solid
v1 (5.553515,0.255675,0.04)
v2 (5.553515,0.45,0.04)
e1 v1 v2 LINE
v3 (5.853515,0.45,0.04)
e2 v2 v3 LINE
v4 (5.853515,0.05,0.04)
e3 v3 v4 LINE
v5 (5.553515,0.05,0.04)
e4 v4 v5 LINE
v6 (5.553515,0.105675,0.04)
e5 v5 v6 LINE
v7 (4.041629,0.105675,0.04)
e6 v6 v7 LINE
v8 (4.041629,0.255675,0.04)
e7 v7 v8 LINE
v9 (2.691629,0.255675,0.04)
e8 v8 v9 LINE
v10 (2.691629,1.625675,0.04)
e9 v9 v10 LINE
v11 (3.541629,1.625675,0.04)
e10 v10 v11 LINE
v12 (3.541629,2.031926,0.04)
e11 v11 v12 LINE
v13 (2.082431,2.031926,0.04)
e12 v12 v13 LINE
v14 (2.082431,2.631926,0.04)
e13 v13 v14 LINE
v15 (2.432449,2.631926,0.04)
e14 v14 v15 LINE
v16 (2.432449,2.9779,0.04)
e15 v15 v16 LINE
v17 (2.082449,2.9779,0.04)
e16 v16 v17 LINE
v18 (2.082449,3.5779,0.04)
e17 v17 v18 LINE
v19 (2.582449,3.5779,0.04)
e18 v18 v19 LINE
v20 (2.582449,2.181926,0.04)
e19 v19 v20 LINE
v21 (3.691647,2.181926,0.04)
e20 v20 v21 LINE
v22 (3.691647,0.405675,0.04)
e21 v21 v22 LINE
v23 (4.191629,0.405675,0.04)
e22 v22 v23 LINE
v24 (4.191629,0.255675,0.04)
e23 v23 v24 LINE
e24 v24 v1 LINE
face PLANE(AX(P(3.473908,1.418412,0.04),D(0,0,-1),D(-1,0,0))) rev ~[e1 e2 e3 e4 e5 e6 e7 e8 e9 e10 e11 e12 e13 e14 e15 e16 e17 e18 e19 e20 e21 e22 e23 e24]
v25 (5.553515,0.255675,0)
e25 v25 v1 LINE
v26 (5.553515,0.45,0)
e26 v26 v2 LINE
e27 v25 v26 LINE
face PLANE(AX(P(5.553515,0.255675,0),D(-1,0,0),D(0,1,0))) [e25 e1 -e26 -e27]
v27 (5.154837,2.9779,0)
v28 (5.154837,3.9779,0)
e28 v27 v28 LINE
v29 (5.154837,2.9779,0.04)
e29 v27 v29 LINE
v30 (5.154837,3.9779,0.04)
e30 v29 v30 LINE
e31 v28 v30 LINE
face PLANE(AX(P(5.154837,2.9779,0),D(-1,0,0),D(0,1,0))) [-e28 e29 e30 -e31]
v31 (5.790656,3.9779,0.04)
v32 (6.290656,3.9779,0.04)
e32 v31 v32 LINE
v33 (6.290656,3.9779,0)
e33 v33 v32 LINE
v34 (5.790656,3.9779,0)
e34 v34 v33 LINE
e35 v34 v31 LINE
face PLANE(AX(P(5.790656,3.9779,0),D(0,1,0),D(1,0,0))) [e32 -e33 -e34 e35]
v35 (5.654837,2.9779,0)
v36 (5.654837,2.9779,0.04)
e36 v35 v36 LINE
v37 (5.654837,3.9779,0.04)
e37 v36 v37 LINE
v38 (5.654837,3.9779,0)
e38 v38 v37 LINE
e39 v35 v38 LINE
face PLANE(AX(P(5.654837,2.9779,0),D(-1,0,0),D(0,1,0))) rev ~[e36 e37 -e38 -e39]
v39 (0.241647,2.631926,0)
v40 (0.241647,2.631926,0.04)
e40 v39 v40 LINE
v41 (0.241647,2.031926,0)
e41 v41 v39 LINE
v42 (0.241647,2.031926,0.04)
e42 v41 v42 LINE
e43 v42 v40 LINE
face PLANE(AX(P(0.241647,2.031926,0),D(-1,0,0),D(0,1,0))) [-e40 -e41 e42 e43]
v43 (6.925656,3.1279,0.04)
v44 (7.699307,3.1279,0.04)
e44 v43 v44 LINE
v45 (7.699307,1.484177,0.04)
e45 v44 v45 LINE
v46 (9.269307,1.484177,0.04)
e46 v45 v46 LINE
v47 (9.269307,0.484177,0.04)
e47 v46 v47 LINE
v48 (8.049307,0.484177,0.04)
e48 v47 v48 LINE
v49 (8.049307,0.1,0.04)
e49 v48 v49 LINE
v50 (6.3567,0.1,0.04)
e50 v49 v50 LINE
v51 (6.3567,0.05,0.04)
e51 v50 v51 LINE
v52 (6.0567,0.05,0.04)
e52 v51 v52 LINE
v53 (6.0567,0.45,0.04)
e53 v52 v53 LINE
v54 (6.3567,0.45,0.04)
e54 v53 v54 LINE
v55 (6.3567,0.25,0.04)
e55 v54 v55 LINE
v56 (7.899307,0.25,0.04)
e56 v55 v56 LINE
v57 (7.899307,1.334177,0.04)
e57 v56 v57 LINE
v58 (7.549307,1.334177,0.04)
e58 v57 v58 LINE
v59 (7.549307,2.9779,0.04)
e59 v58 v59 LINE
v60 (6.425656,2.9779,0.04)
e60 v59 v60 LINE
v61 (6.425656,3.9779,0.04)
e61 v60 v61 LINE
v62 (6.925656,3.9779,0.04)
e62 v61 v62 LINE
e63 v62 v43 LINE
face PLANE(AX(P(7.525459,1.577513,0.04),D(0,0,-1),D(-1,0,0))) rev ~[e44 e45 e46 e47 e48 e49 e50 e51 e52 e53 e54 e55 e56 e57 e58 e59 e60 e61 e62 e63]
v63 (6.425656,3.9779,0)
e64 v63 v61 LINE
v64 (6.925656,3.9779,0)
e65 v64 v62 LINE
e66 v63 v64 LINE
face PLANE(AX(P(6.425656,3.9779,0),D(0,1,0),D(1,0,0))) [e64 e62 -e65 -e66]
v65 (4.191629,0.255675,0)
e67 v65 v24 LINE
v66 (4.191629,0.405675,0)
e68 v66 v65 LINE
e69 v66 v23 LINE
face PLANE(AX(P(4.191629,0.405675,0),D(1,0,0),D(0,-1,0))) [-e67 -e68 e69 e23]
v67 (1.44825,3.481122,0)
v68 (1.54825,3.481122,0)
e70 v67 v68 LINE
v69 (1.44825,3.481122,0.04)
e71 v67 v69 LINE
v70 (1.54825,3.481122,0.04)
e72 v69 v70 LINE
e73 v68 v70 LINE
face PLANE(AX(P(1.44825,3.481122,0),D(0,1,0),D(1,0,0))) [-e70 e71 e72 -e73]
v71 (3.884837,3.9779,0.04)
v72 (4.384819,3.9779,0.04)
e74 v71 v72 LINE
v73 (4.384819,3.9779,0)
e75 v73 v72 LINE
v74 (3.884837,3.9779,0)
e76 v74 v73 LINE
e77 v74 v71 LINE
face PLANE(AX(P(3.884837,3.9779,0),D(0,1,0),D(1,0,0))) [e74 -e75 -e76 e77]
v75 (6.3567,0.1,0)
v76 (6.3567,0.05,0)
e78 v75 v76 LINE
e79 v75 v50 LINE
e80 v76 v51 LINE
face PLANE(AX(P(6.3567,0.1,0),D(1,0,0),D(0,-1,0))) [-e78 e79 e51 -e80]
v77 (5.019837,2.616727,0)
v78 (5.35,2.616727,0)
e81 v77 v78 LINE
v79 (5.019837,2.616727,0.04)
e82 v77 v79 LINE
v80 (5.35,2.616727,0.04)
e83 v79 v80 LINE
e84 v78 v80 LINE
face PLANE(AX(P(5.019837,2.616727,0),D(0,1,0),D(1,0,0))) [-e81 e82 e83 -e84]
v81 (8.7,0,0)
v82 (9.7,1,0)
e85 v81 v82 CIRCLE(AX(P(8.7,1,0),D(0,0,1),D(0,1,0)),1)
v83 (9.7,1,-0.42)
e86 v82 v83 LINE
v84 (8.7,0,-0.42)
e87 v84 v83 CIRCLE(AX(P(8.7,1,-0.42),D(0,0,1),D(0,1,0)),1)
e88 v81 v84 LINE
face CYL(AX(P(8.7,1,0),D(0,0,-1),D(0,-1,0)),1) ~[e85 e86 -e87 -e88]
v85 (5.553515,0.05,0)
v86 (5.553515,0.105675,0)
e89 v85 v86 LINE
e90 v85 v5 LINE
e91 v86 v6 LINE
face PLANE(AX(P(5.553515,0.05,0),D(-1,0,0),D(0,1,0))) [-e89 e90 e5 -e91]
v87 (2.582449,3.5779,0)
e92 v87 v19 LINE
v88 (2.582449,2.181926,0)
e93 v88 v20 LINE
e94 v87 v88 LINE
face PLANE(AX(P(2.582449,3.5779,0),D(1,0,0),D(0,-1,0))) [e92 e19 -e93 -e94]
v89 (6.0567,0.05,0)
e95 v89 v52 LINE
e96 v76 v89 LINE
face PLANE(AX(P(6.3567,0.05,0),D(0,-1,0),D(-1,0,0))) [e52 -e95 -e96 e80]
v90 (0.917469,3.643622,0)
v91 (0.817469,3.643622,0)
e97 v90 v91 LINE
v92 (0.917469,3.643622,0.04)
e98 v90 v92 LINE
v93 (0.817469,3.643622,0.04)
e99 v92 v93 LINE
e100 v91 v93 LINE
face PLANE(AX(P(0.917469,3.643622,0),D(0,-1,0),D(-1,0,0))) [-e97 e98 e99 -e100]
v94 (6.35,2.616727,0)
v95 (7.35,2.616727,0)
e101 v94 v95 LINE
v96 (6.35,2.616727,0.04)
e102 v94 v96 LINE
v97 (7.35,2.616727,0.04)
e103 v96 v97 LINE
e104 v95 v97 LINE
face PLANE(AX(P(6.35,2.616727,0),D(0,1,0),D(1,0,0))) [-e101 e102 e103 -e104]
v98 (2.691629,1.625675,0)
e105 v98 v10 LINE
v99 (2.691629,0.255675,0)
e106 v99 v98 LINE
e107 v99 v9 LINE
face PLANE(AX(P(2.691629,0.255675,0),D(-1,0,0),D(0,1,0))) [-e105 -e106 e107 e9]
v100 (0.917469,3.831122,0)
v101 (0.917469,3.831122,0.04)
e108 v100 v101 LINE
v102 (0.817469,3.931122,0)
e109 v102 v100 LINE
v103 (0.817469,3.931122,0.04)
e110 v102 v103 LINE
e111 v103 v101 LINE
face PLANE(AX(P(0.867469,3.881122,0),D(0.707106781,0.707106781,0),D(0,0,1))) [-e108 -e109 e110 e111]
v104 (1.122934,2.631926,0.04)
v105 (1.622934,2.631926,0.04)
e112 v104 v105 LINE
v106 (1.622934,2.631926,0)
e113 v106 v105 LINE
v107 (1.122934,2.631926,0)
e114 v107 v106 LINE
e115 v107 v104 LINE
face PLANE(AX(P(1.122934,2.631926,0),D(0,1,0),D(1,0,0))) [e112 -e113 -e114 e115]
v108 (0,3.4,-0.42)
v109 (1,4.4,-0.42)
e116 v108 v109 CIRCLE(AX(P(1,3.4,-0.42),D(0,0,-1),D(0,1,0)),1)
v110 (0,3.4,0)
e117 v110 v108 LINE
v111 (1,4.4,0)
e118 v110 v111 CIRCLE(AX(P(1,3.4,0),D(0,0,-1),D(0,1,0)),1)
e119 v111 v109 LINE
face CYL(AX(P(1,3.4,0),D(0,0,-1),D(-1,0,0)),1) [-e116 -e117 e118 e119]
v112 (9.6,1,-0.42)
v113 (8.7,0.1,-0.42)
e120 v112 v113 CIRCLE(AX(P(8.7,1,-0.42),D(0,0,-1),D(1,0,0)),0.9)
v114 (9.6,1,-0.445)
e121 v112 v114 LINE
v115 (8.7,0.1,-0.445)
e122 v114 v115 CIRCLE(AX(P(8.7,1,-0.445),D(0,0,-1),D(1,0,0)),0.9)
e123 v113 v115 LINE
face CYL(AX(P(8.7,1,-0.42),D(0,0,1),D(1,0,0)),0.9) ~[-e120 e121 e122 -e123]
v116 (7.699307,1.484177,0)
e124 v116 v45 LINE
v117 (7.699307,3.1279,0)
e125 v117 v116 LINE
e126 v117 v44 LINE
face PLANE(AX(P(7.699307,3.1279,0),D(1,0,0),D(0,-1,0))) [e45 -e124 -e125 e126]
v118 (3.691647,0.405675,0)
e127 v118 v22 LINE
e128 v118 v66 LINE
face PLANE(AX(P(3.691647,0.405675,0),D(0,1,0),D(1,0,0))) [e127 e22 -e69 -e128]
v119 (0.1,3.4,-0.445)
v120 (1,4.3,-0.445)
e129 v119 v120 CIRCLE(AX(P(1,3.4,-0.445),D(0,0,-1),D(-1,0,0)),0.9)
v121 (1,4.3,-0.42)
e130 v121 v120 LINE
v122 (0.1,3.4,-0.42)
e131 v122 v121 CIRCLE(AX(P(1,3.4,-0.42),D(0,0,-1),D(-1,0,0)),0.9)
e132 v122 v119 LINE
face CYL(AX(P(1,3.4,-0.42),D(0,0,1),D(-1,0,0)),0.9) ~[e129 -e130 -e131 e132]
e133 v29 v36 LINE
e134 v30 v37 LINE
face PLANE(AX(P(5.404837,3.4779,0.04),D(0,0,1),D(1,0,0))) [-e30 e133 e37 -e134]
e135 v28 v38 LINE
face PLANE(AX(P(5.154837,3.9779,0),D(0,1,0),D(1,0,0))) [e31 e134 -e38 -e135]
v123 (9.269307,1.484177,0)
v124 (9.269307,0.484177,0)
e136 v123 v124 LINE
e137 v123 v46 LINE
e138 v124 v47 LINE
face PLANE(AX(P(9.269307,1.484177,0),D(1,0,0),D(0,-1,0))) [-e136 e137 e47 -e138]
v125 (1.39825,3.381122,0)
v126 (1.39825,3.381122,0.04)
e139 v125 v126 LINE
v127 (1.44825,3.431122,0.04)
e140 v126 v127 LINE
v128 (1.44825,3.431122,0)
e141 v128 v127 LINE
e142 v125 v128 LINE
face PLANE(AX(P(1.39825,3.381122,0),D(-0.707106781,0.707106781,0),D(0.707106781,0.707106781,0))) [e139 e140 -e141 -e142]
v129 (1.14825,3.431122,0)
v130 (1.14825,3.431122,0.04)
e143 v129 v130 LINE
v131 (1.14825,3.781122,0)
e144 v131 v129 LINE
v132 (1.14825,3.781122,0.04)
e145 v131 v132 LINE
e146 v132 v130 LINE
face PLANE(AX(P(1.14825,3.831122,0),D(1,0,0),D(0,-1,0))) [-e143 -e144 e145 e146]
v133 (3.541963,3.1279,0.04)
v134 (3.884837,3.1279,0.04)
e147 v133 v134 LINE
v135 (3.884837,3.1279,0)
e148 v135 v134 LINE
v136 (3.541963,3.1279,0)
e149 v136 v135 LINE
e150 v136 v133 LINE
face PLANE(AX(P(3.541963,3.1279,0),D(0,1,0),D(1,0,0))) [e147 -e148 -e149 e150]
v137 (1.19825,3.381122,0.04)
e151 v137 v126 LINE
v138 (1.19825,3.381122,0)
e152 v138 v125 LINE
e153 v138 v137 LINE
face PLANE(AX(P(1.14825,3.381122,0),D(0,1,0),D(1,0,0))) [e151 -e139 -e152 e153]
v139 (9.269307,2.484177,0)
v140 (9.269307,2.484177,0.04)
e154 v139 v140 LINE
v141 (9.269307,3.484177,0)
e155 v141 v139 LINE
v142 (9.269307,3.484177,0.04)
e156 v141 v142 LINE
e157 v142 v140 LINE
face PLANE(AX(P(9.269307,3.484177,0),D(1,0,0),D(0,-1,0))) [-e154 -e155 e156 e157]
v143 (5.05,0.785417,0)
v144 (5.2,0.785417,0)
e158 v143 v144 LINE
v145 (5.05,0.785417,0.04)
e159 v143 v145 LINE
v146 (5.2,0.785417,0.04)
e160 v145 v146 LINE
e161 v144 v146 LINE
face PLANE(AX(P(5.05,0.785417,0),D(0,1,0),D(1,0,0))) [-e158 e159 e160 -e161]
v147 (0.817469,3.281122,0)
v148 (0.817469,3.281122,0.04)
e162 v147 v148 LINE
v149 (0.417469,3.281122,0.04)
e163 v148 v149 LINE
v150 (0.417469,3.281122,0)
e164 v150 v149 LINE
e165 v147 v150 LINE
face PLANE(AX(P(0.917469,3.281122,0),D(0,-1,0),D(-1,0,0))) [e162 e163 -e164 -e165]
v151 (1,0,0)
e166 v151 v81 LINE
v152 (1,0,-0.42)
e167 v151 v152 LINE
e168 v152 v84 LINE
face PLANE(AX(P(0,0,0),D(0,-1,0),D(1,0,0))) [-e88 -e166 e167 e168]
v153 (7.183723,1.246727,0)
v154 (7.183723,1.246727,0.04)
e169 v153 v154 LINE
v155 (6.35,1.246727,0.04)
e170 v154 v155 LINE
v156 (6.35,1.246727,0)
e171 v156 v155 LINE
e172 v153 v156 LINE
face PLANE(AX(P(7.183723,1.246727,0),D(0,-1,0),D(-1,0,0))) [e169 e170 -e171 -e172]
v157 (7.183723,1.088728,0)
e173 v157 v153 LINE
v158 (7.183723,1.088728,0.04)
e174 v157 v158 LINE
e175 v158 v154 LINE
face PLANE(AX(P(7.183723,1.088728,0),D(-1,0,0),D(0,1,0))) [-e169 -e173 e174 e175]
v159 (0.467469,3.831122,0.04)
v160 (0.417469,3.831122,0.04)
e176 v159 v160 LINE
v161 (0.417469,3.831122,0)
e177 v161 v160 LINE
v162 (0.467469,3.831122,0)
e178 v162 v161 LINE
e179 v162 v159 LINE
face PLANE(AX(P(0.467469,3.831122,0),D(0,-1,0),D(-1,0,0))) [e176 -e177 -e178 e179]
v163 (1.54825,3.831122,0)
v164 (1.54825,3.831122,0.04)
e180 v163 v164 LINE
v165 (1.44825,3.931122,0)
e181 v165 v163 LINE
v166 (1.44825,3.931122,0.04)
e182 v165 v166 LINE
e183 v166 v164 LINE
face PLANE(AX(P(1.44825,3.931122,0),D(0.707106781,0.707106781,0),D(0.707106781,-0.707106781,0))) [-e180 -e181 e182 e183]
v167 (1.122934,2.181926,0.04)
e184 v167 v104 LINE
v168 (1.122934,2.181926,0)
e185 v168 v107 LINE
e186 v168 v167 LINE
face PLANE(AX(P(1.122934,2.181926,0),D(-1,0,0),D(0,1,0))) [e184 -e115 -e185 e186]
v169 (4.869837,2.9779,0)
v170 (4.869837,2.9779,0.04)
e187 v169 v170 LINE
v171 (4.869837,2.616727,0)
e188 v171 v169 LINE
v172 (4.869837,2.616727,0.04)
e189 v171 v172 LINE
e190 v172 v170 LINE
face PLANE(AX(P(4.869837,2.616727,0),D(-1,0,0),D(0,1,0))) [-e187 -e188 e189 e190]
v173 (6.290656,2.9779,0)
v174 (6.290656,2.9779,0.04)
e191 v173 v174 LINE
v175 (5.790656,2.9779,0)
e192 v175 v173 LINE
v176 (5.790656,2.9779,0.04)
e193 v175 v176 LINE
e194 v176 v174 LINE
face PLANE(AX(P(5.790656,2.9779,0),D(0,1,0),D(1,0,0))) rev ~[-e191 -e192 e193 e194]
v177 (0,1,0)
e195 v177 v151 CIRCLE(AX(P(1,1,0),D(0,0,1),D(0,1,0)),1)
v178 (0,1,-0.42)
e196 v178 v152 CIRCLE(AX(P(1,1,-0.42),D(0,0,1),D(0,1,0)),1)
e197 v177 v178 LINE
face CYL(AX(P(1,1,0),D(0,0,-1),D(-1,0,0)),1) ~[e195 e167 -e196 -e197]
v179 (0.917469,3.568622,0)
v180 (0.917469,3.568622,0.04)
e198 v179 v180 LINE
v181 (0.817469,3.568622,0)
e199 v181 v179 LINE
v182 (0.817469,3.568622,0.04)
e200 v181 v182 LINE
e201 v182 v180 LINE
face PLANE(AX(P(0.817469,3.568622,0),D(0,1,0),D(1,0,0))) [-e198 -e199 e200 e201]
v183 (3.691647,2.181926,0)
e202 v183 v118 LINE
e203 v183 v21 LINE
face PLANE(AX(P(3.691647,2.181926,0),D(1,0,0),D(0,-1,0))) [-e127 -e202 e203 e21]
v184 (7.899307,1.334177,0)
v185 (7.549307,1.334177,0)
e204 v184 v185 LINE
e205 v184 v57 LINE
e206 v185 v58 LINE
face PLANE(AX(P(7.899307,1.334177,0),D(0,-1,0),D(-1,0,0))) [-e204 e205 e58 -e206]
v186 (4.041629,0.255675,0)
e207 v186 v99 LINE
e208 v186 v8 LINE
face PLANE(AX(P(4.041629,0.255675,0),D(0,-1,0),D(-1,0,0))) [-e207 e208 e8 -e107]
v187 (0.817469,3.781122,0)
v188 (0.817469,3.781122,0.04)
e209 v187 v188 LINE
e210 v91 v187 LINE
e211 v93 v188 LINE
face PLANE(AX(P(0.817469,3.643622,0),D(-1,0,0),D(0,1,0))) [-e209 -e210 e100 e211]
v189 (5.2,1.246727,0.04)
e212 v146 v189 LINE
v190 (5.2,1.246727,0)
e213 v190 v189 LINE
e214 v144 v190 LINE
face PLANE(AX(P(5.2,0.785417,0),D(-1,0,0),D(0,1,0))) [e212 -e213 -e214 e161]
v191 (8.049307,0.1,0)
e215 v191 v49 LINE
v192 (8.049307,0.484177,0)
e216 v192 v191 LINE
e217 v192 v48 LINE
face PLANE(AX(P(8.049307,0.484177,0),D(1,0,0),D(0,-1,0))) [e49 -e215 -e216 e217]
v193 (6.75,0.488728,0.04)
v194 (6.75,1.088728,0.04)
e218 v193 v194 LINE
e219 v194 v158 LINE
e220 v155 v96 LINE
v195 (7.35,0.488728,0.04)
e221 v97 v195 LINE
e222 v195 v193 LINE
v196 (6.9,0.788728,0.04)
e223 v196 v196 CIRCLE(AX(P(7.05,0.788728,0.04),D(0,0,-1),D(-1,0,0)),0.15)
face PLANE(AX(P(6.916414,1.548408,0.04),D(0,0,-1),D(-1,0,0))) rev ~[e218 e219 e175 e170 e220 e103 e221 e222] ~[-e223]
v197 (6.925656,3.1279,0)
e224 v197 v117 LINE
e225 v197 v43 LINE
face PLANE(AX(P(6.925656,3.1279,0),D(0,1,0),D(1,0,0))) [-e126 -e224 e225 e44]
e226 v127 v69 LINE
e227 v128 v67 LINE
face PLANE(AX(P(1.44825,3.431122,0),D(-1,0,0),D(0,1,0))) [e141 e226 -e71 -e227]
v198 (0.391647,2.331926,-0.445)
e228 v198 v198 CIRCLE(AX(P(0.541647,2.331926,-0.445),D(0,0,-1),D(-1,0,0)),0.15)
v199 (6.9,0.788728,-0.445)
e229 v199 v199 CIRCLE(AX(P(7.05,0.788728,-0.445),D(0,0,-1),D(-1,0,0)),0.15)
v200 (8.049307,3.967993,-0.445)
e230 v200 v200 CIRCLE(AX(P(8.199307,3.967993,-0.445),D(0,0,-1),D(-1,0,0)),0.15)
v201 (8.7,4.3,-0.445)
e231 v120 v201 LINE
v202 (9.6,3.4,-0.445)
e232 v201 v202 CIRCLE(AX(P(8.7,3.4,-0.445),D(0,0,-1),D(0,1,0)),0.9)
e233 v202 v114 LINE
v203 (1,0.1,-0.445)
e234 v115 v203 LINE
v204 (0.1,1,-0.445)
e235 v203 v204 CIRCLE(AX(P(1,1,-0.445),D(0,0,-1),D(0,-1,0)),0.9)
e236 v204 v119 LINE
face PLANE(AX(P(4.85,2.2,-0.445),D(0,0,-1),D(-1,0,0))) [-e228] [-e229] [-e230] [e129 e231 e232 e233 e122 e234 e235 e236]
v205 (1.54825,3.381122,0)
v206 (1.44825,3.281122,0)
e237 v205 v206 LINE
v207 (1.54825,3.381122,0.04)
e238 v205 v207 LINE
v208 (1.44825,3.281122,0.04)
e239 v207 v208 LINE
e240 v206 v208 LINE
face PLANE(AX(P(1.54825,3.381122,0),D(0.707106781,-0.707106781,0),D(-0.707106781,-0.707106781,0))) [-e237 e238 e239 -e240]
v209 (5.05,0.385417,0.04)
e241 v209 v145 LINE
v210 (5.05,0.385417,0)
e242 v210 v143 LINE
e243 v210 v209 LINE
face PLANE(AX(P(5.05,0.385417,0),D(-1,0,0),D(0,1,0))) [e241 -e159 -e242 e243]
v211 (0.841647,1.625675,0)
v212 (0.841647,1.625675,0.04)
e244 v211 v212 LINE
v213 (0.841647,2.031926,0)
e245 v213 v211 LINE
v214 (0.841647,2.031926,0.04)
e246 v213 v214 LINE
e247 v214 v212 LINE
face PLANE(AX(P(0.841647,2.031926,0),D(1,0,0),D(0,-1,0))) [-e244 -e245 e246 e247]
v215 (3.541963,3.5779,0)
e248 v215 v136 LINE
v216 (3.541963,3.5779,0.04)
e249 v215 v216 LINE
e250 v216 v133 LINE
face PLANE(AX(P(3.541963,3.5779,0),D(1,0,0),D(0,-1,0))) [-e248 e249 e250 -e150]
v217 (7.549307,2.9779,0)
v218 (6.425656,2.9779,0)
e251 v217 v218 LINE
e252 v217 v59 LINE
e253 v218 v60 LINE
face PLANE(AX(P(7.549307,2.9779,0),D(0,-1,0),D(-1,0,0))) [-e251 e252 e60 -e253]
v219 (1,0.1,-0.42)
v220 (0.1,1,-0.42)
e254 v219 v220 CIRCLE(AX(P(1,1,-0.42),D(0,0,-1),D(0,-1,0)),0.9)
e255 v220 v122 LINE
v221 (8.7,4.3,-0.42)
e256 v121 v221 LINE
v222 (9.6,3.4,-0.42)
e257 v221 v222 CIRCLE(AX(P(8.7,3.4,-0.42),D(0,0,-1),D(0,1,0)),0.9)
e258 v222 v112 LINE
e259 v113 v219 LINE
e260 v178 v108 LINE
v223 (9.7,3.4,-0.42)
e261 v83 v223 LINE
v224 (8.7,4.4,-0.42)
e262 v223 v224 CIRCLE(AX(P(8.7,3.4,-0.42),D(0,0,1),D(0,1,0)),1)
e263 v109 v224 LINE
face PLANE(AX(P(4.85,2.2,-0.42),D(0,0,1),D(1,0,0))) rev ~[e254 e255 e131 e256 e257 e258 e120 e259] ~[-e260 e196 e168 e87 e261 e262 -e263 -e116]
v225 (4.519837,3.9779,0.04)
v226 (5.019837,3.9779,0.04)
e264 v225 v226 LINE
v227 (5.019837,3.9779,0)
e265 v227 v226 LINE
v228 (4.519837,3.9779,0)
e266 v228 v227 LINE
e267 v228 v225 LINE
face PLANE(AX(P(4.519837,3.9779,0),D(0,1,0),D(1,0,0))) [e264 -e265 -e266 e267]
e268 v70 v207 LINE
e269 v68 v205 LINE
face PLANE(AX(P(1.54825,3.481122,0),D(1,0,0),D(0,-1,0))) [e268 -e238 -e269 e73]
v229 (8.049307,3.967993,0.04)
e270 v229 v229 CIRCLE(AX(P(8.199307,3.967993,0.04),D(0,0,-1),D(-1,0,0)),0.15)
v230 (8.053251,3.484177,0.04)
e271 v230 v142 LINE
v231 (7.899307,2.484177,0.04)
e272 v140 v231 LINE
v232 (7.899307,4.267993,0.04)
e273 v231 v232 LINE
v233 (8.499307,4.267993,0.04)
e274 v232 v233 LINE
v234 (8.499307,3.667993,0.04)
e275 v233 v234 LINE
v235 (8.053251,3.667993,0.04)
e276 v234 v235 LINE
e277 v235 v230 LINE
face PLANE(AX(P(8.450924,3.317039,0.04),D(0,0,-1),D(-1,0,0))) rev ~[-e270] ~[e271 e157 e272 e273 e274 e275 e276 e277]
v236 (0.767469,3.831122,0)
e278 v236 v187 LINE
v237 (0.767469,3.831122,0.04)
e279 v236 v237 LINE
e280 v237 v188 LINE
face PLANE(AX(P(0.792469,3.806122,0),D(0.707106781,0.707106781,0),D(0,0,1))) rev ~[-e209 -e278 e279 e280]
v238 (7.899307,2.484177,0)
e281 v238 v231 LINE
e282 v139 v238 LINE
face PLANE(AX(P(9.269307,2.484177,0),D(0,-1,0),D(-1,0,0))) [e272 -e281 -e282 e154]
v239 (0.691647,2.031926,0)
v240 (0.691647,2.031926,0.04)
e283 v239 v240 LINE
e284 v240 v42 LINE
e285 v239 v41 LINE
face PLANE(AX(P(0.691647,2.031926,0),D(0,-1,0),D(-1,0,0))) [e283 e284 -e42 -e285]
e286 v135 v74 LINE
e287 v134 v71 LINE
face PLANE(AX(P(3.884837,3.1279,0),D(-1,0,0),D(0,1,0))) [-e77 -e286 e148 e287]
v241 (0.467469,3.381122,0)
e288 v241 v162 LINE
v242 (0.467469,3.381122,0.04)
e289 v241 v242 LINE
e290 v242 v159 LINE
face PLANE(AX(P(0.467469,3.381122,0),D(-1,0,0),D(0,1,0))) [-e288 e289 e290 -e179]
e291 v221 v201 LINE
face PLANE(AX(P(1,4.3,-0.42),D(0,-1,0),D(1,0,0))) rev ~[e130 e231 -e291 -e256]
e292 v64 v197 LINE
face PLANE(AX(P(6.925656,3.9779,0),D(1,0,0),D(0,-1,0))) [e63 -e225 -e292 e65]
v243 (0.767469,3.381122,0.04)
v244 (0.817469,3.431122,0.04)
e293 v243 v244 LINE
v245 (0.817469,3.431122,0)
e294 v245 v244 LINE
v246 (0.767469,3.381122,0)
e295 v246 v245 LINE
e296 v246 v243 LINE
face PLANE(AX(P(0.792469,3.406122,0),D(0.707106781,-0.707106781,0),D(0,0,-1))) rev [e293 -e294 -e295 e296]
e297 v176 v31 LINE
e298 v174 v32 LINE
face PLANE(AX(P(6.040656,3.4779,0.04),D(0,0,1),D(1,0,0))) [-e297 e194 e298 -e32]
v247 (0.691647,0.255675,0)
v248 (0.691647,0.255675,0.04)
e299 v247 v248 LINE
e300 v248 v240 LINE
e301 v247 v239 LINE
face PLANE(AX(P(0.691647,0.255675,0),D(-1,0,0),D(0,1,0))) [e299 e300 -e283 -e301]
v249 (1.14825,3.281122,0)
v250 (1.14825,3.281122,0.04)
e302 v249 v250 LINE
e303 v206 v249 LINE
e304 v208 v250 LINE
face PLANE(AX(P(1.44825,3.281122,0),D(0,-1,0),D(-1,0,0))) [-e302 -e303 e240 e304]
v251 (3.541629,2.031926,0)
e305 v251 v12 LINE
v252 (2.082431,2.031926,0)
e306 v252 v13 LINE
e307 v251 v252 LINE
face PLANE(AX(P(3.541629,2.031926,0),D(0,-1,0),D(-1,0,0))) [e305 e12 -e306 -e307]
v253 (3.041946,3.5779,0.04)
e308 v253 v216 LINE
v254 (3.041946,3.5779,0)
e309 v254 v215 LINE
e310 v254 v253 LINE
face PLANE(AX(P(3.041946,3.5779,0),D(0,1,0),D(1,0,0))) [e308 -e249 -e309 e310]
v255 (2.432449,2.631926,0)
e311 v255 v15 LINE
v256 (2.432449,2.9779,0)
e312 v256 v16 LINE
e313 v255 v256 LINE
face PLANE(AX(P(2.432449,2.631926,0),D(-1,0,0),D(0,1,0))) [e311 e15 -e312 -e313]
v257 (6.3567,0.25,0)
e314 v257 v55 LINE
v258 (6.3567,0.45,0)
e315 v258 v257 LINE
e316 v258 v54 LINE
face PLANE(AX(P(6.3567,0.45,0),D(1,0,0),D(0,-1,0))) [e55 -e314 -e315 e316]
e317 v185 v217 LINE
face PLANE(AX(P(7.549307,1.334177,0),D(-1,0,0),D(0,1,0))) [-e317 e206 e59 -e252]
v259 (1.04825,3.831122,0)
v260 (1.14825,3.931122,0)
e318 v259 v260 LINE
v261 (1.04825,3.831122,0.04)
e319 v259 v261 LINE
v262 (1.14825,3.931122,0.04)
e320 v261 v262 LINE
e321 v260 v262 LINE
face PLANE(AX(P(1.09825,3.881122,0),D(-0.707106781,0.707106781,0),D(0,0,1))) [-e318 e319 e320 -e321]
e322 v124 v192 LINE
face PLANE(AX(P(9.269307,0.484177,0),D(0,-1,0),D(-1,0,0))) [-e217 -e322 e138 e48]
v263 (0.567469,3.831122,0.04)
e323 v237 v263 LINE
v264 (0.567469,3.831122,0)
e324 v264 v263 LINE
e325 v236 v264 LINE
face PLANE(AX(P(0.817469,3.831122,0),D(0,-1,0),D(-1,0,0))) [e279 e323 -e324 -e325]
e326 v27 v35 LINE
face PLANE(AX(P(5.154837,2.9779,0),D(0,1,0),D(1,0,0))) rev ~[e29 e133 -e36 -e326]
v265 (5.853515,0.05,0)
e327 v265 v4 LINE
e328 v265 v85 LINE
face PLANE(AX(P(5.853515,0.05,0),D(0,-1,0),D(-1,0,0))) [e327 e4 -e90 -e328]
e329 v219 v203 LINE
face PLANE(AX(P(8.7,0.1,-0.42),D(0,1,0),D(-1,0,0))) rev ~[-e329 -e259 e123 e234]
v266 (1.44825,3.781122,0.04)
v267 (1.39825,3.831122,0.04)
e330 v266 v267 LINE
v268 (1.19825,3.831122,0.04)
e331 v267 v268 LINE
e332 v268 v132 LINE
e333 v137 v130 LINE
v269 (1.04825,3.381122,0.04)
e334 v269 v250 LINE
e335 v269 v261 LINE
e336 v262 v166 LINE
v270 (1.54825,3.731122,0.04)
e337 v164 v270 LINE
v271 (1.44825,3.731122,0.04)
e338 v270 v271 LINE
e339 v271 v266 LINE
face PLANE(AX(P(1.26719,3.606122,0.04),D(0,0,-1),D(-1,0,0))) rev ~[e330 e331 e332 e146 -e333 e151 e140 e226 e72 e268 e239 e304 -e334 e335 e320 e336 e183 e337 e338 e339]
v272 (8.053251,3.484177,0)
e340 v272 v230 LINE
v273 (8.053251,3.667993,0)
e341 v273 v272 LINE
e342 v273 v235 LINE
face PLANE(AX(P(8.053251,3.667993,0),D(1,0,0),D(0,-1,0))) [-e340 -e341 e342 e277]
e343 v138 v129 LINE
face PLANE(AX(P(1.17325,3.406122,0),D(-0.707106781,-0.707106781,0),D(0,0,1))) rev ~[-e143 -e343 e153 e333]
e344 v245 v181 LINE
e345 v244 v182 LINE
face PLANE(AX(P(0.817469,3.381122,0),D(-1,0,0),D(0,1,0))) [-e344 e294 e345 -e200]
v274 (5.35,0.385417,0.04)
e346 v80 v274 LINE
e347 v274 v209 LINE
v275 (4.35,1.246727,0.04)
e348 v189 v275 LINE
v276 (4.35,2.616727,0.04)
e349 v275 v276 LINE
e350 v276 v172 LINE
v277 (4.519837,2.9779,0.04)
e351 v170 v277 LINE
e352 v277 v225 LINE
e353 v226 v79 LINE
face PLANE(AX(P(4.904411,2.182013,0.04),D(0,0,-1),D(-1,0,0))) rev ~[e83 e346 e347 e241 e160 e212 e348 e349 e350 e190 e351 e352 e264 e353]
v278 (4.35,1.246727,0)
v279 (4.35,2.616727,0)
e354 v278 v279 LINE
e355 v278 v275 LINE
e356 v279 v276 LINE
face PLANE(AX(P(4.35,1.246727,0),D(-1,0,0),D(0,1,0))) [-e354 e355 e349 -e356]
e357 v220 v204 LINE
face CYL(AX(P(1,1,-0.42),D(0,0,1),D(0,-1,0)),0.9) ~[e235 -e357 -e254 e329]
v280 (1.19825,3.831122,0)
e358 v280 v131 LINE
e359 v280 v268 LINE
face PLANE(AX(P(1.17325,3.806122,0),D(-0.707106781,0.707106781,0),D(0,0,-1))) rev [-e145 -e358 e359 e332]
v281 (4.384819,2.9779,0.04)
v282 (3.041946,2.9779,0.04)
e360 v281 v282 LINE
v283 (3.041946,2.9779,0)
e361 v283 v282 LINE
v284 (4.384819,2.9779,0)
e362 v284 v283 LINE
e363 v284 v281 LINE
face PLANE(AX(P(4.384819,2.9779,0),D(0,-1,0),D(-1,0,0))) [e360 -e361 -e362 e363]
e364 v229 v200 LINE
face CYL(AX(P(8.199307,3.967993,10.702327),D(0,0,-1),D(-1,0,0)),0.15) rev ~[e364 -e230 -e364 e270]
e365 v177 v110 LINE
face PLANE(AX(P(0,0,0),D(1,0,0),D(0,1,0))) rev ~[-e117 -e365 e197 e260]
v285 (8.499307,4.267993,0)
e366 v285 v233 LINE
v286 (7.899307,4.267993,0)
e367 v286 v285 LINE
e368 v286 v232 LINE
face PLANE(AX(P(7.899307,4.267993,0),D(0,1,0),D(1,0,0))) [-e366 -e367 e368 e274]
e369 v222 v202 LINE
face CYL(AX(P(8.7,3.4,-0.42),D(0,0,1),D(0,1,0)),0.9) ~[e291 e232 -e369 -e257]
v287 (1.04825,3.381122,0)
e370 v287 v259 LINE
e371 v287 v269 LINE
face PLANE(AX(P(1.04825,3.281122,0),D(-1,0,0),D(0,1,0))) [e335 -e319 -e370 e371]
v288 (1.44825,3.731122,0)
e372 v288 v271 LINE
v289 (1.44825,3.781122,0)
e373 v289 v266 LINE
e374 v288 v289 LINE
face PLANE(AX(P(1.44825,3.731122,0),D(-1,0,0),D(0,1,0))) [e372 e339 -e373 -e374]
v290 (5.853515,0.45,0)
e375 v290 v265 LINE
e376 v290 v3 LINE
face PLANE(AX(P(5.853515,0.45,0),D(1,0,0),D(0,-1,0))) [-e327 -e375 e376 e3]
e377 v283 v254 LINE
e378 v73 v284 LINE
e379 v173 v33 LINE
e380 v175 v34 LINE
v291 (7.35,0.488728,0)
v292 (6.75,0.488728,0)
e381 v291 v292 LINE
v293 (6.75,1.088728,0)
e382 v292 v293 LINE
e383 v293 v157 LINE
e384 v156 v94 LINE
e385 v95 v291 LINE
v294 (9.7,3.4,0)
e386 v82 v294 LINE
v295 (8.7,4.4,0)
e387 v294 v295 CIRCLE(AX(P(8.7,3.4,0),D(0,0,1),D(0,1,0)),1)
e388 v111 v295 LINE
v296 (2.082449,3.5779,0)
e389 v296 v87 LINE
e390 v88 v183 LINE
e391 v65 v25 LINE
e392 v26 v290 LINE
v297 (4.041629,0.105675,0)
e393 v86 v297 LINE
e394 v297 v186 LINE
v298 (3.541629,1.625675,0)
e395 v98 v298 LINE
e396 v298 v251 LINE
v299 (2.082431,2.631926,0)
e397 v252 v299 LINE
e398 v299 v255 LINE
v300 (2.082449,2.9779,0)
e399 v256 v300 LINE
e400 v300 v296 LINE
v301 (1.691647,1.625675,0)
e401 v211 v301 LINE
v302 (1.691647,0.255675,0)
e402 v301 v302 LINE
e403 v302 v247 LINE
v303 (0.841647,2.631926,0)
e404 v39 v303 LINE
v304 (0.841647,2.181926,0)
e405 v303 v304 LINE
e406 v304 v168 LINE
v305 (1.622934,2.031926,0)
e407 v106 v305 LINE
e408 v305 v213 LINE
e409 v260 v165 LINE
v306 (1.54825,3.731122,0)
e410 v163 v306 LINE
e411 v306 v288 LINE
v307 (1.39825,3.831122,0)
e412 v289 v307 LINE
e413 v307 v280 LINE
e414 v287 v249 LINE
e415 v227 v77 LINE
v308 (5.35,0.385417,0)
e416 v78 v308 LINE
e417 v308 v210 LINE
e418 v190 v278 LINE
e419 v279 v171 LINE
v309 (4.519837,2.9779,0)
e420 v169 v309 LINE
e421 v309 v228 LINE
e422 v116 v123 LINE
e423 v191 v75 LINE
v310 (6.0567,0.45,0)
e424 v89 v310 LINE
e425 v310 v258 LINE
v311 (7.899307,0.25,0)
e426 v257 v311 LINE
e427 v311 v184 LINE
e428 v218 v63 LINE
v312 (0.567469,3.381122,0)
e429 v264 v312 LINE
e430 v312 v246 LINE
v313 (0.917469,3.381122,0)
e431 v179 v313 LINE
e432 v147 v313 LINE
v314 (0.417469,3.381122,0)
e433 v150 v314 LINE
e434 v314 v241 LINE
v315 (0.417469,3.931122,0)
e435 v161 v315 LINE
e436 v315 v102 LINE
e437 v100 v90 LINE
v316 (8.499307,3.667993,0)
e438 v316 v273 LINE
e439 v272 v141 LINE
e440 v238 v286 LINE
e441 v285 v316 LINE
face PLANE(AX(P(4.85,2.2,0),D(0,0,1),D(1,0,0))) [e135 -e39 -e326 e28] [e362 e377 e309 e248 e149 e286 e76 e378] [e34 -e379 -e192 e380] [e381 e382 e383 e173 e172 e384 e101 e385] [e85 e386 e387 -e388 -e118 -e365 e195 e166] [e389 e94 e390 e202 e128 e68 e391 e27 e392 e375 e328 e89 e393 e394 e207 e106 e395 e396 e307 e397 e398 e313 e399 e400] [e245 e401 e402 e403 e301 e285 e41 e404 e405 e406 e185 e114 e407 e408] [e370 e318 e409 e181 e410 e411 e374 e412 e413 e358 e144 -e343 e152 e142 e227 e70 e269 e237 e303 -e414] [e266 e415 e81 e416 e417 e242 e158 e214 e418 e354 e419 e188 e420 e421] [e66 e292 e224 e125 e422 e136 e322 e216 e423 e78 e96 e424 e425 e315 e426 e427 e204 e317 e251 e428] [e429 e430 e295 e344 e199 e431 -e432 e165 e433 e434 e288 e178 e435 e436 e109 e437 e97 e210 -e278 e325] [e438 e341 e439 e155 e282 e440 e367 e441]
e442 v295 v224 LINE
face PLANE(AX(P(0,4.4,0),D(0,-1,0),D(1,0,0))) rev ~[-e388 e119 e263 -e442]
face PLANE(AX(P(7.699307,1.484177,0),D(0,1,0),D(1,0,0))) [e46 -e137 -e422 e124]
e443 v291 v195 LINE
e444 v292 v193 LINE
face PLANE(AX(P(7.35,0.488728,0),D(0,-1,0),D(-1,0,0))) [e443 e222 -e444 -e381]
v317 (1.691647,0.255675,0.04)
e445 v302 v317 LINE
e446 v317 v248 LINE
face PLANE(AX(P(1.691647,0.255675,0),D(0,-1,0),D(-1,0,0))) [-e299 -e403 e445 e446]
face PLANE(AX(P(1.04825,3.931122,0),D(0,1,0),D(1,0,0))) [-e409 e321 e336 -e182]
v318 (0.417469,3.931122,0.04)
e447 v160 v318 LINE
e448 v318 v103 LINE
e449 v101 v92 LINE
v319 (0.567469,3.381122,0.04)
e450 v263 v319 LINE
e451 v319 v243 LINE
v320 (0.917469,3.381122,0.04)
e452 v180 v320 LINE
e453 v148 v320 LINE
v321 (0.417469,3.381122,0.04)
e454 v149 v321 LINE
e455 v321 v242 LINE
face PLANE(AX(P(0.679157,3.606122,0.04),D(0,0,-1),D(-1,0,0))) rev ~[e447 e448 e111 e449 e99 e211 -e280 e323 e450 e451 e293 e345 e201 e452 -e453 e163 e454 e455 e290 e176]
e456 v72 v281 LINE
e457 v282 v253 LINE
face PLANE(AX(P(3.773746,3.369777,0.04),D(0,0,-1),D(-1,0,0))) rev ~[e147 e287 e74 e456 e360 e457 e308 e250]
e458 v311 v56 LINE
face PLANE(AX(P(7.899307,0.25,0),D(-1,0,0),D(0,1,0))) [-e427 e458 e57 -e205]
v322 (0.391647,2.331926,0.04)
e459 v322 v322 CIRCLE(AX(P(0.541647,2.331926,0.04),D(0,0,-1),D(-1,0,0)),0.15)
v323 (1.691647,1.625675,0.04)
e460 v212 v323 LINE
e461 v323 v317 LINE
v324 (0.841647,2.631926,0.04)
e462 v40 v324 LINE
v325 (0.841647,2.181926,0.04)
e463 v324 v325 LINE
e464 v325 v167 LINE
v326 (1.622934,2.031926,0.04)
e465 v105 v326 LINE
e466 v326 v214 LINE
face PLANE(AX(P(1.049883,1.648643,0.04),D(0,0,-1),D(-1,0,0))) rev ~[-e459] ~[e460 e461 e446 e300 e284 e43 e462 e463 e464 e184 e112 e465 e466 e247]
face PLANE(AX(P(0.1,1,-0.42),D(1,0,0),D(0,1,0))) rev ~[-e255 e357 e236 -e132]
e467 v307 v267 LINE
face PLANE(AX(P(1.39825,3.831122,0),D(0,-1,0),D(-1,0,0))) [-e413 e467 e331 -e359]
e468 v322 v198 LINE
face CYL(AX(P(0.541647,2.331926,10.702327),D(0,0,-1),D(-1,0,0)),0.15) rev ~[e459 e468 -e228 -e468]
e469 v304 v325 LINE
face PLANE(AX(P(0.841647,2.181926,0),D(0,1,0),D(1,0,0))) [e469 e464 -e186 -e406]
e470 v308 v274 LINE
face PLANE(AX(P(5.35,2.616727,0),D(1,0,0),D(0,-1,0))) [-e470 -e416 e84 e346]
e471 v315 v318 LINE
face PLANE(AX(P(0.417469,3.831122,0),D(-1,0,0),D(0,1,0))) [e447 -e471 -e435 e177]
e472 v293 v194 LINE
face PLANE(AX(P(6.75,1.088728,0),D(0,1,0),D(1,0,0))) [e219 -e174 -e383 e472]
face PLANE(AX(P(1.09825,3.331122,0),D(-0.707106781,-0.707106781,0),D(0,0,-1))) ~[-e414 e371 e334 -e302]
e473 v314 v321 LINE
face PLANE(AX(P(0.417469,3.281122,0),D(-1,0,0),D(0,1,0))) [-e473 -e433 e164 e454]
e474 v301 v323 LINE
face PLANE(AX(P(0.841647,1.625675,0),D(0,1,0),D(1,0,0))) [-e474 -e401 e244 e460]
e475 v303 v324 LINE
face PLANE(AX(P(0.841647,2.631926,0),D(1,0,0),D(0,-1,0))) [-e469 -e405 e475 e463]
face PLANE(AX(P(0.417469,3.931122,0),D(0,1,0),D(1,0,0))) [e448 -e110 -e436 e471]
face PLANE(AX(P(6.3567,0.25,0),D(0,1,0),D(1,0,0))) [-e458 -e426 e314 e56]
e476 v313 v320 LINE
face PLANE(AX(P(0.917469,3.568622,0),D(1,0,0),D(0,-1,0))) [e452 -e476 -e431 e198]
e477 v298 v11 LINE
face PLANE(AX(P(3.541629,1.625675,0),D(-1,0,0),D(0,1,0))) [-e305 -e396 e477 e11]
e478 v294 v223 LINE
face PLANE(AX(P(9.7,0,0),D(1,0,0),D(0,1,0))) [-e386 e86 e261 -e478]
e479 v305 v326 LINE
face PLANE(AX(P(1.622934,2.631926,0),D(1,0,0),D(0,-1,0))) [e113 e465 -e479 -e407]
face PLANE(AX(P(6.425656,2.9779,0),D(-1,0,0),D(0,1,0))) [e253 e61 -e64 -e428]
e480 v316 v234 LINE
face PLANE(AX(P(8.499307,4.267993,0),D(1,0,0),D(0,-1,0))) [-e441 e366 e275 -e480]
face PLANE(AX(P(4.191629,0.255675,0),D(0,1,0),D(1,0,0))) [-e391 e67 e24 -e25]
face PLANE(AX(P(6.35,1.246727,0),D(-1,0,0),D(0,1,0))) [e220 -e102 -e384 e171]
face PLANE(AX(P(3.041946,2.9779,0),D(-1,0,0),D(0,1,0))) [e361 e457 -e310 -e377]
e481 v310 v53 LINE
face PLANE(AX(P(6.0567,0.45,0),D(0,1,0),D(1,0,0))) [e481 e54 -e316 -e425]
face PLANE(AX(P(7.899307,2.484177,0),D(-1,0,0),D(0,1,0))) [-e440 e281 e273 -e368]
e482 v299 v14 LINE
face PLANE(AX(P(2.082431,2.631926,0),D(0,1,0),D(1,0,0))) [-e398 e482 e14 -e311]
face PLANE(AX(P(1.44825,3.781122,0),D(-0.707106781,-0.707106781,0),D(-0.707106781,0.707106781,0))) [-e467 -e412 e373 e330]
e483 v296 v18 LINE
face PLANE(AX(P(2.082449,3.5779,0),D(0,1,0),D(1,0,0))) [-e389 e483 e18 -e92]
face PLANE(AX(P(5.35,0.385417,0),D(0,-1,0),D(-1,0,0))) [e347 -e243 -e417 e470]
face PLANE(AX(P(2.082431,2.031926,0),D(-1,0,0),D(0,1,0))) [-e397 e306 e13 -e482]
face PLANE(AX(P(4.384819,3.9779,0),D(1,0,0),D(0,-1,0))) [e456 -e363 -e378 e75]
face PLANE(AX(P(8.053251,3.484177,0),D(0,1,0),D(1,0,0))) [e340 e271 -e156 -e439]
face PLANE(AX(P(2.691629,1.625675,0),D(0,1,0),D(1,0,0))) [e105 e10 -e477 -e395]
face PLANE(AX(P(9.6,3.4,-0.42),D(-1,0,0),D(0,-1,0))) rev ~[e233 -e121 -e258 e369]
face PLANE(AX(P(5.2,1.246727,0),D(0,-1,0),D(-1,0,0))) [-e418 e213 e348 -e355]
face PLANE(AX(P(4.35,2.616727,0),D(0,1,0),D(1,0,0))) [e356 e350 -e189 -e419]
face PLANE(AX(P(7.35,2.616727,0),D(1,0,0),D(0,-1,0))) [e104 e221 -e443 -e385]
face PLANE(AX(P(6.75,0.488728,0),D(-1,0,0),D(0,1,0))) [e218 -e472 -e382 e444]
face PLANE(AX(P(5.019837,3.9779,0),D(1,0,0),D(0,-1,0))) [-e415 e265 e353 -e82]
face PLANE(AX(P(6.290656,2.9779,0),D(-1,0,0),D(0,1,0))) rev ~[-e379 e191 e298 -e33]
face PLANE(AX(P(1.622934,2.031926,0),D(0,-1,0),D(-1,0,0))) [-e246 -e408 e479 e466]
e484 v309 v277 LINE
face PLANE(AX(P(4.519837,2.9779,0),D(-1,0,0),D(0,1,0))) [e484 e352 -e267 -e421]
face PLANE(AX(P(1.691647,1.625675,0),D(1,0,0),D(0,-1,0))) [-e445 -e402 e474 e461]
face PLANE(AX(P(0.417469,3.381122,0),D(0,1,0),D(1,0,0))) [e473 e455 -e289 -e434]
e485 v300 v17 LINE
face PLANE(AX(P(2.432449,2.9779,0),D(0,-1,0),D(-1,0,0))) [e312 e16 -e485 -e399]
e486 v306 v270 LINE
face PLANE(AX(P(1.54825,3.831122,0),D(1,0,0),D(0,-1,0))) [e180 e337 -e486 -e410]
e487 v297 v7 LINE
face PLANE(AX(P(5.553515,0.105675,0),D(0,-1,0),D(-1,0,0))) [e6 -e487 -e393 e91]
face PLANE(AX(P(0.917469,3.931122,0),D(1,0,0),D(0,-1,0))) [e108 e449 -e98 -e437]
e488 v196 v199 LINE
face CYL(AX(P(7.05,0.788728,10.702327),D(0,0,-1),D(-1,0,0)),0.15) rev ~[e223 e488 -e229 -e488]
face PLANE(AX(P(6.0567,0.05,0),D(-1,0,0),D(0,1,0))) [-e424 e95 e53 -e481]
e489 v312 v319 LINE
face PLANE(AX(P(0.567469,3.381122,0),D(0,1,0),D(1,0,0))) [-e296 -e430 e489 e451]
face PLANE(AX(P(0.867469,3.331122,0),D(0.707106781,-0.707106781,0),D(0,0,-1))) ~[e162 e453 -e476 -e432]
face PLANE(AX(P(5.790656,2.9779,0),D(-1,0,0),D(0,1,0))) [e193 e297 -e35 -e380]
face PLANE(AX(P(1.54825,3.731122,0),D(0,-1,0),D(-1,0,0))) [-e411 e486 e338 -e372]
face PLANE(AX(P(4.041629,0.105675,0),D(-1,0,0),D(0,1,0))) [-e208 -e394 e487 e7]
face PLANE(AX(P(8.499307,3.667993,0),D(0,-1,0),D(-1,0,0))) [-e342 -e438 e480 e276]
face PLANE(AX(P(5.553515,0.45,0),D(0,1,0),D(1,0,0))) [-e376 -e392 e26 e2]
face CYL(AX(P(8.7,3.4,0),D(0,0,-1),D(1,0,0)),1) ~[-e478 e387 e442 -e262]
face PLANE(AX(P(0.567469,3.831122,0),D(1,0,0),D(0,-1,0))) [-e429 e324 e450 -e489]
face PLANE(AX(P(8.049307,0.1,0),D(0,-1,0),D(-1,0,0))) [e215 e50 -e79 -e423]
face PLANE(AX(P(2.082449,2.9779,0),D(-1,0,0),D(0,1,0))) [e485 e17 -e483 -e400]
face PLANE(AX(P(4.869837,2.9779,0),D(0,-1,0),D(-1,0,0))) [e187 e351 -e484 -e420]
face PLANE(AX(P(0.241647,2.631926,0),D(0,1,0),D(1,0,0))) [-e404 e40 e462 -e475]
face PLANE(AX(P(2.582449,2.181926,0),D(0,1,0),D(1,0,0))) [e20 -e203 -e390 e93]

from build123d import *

# Parameters (mm, degrees)
SKETCH1_W            = 9.7
SKETCH1_H            = 4.4
BOSS_EXTRUDE1_DEPTH  = 0.42
FILLET1_R            = 1
FILLET2_R            = 1
FILLET3_R            = 1
FILLET4_R            = 1
BOSS_EXTRUDE2_DEPTH  = 0.04
BOSS_EXTRUDE3_DEPTH  = 0.04
BOSS_EXTRUDE4_DEPTH  = 0.04
BOSS_EXTRUDE5_DEPTH  = 0.04
BOSS_EXTRUDE6_DEPTH  = 0.04
BOSS_EXTRUDE7_DEPTH  = 0.04
BOSS_EXTRUDE8_DEPTH  = 0.04
BOSS_EXTRUDE9_DEPTH  = 0.04
BOSS_EXTRUDE10_DEPTH = 0.04
SKETCH11_W           = 0.5
SKETCH11_H           = 1
BOSS_EXTRUDE11_DEPTH = 0.04
SKETCH12_W           = 0.5
SKETCH12_H           = 1
BOSS_EXTRUDE12_DEPTH = 0.04
BOSS_EXTRUDE13_DEPTH = 0.025
HOLE1_D              = 0.3
HOLE2_D              = 0.3
HOLE3_D              = 0.3
CHAMFER1_SIZE        = 0.1
CHAMFER2_SIZE        = 0.05
CHAMFER3_SIZE        = 0.1
CHAMFER4_SIZE        = 0.05
CHAMFER5_SIZE        = 0.1
CHAMFER6_SIZE        = 0.1
CHAMFER7_SIZE        = 0.05
CHAMFER8_SIZE        = 0.05


with BuildPart() as part:
    # Sketch1 → Boss-Extrude1 (new body)
    with BuildSketch(Plane.XY):
        with Locations((4.849999999, 2.20000002)):
            Rectangle(SKETCH1_W, SKETCH1_H)
    extrude(amount=-BOSS_EXTRUDE1_DEPTH)

    # Fillet1
    fillet1_edges = [part.edges().sort_by_distance(p)[0] for p in [
        (-1e-09, 2e-08, -0.21),
    ]]
    fillet(fillet1_edges, radius=FILLET1_R)

    # Fillet2
    fillet2_edges = [part.edges().sort_by_distance(p)[0] for p in [
        (-1e-09, 4.40000002, -0.21),
    ]]
    fillet(fillet2_edges, radius=FILLET2_R)

    # Fillet3
    fillet3_edges = [part.edges().sort_by_distance(p)[0] for p in [
        (9.699999999, 2e-08, -0.21),
    ]]
    fillet(fillet3_edges, radius=FILLET3_R)

    # Fillet4
    fillet4_edges = [part.edges().sort_by_distance(p)[0] for p in [
        (9.699999999, 4.40000002, -0.21),
    ]]
    fillet(fillet4_edges, radius=FILLET4_R)

    # Sketch2 → Boss-Extrude2 (add)
    with BuildSketch(Plane.XY):
        Polygon((3.691646515, 0.405675456), (4.19162877, 0.405675456), (4.19162877, 0.255675455), (5.553515055, 0.255675455), (5.553515055, 0.45000002), (5.853515055, 0.45000002), (5.853515055, 0.05000002), (5.553515055, 0.05000002), (5.553515055, 0.105675455), (4.04162877, 0.105675455), (4.04162877, 0.255675455), (2.69162877, 0.255675455), (2.69162877, 1.625675455), (3.54162877, 1.625675455), (3.54162877, 2.031926109), (2.082430938, 2.031926109), (2.082430938, 2.631926109), (2.432448683, 2.631926109), (2.432448683, 2.97790002), (2.082448683, 2.97790002), (2.082448683, 3.57790002), (2.582448683, 3.57790002), (2.582448683, 2.181926109), (3.691646515, 2.181926109), align=None)
    extrude(amount=BOSS_EXTRUDE2_DEPTH)

    # Sketch3 → Boss-Extrude3 (add)
    with BuildSketch(Plane.XY):
        Polygon((6.356700213, 0.05000002), (6.056700213, 0.05000002), (6.056700213, 0.45000002), (6.356700213, 0.45000002), (6.356700213, 0.25000002), (7.899307242, 0.25000002), (7.899307242, 1.334176783), (7.549307242, 1.334176783), (7.549307242, 2.97790002), (6.425655767, 2.97790002), (6.425655767, 3.97790002), (6.925655767, 3.97790002), (6.925655767, 3.12790002), (7.699307242, 3.12790002), (7.699307242, 1.484176783), (9.269307242, 1.484176783), (9.269307242, 0.484176783), (8.049307242, 0.484176783), (8.049307242, 0.10000002), (6.356700213, 0.10000002), align=None)
    extrude(amount=BOSS_EXTRUDE3_DEPTH)

    # Sketch4 → Boss-Extrude4 (add)
    with BuildSketch(Plane.XY):
        Polygon((1.148250377, 3.831121862), (1.148250377, 3.381121862), (1.398250377, 3.381121862), (1.448250377, 3.431121862), (1.448250377, 3.481121862), (1.548250377, 3.481121862), (1.548250377, 3.381121862), (1.448250377, 3.281121862), (1.048250377, 3.281121862), (1.048250377, 3.931121862), (1.448250377, 3.931121862), (1.548250377, 3.831121862), (1.548250377, 3.731121862), (1.448250377, 3.731121862), (1.448250377, 3.781121862), (1.398250377, 3.831121862), align=None)
    extrude(amount=BOSS_EXTRUDE4_DEPTH)

    # Sketch5 → Boss-Extrude5 (add)
    with BuildSketch(Plane.XY):
        Polygon((0.417468966, 3.281121862), (0.417468966, 3.381121862), (0.467468966, 3.381121862), (0.467468966, 3.831121862), (0.417468966, 3.831121862), (0.417468966, 3.931121862), (0.917468966, 3.931121862), (0.917468966, 3.643621862), (0.817468966, 3.643621862), (0.817468966, 3.831121862), (0.567468966, 3.831121862), (0.567468966, 3.381121862), (0.817468966, 3.381121862), (0.817468966, 3.568621862), (0.917468966, 3.568621862), (0.917468966, 3.281121862), align=None)
    extrude(amount=BOSS_EXTRUDE5_DEPTH)

    # Sketch6 → Boss-Extrude6 (add)
    with BuildSketch(Plane.XY):
        Polygon((5.349999999, 0.385416863), (5.049999999, 0.385416863), (5.049999999, 0.785416863), (5.199999999, 0.785416863), (5.199999999, 1.246726542), (4.349999999, 1.246726542), (4.349999999, 2.616726542), (4.869837207, 2.616726542), (4.869837207, 2.97790002), (4.519837207, 2.97790002), (4.519837207, 3.97790002), (5.019837207, 3.97790002), (5.019837207, 2.616726542), (5.349999999, 2.616726542), align=None)
    extrude(amount=BOSS_EXTRUDE6_DEPTH)

    # Sketch7 → Boss-Extrude7 (add)
    with BuildSketch(Plane.XY):
        Polygon((1.691646515, 1.625675456), (1.691646515, 0.255675456), (0.691646515, 0.255675456), (0.691646515, 2.031926109), (0.241646515, 2.031926109), (0.241646515, 2.631926109), (0.841646515, 2.631926109), (0.841646515, 2.181926109), (1.122933895, 2.181926109), (1.122933895, 2.631926109), (1.622933895, 2.631926109), (1.622933895, 2.031926109), (0.841646515, 2.031926109), (0.841646515, 1.625675456), align=None)
    extrude(amount=BOSS_EXTRUDE7_DEPTH)

    # Sketch8 → Boss-Extrude8 (add)
    with BuildSketch(Plane.XY):
        Polygon((3.54196347, 3.57790002), (3.54196347, 3.12790002), (3.884837207, 3.12790002), (3.884837207, 3.97790002), (4.384819462, 3.97790002), (4.384819462, 2.97790002), (3.041945725, 2.97790002), (3.041945725, 3.57790002), align=None)
    extrude(amount=BOSS_EXTRUDE8_DEPTH)

    # Sketch9 → Boss-Extrude9 (add)
    with BuildSketch(Plane.XY):
        Polygon((6.749999999, 1.088728228), (7.183722976, 1.088728228), (7.183722976, 1.246726542), (6.349999999, 1.246726542), (6.349999999, 2.616726542), (7.349999999, 2.616726542), (7.349999999, 0.488728228), (6.749999999, 0.488728228), align=None)
    extrude(amount=BOSS_EXTRUDE9_DEPTH)

    # Sketch10 → Boss-Extrude10 (add)
    with BuildSketch(Plane.XY):
        Polygon((8.499307242, 3.667992872), (8.053251319, 3.667992872), (8.053251319, 3.484176783), (9.269307242, 3.484176783), (9.269307242, 2.484176783), (7.899307242, 2.484176783), (7.899307242, 4.267992872), (8.499307242, 4.267992872), align=None)
    extrude(amount=BOSS_EXTRUDE10_DEPTH)

    # Sketch11 → Boss-Extrude11 (add)
    with BuildSketch(Plane.XY):
        with Locations((5.404837207, 3.47790002)):
            Rectangle(SKETCH11_W, SKETCH11_H)
    extrude(amount=BOSS_EXTRUDE11_DEPTH)

    # Sketch12 → Boss-Extrude12 (add)
    with BuildSketch(Plane.XY):
        with Locations((6.040655767, 3.47790002)):
            Rectangle(SKETCH12_W, SKETCH12_H)
    extrude(amount=BOSS_EXTRUDE12_DEPTH)

    # Sketch19 → Boss-Extrude13 (add)
    with BuildSketch(Plane(origin=(0, 0, -0.42), x_dir=(-1, 0, 0), z_dir=(0, 0, -1))):
        with BuildLine():
            Line((-0.999999999, 4.30000002), (-8.699999999, 4.30000002))
            ThreePointArc((-8.699999999, 4.30000002), (-9.336396102, 4.036396123), (-9.599999999, 3.40000002))
            Line((-9.599999999, 3.40000002), (-9.599999999, 1.00000002))
            ThreePointArc((-9.599999999, 1.00000002), (-9.336396102, 0.363603917), (-8.699999999, 0.10000002))
            Line((-8.699999999, 0.10000002), (-0.999999999, 0.10000002))
            ThreePointArc((-0.999999999, 0.10000002), (-0.363603896, 0.363603917), (-0.099999999, 1.00000002))
            Line((-0.099999999, 1.00000002), (-0.099999999, 3.40000002))
            ThreePointArc((-0.099999999, 3.40000002), (-0.363603896, 4.036396123), (-0.999999999, 4.30000002))
        make_face()
    extrude(amount=BOSS_EXTRUDE13_DEPTH)

    # Hole1 (through all)
    with Locations(Plane.XY.offset(0.04)):
        with Locations((8.199307242, 3.967992872)):
            Hole(HOLE1_D / 2)

    # Hole2 (through all)
    with Locations(Plane.XY.offset(0.04)):
        with Locations((7.049999999, 0.788728228)):
            Hole(HOLE2_D / 2)

    # Hole3 (through all)
    with Locations(Plane.XY.offset(0.04)):
        with Locations((0.541646515, 2.331926109)):
            Hole(HOLE3_D / 2)

    # Chamfer1
    chamfer1_edges = [part.edges().sort_by_distance(p)[0] for p in [
        (0.917468966, 3.931121862, 0.02),
    ]]
    chamfer(chamfer1_edges, length=CHAMFER1_SIZE)

    # Chamfer2
    chamfer2_edges = [part.edges().sort_by_distance(p)[0] for p in [
        (1.148250377, 3.831121862, 0.02),
    ]]
    chamfer(chamfer2_edges, length=CHAMFER2_SIZE)

    # Chamfer3
    chamfer3_edges = [part.edges().sort_by_distance(p)[0] for p in [
        (0.917468966, 3.281121862, 0.02),
    ]]
    chamfer(chamfer3_edges, length=CHAMFER3_SIZE)

    # Chamfer4
    chamfer4_edges = [part.edges().sort_by_distance(p)[0] for p in [
        (0.817468966, 3.831121862, 0.02),
    ]]
    chamfer(chamfer4_edges, length=CHAMFER4_SIZE)

    # Chamfer5
    chamfer5_edges = [part.edges().sort_by_distance(p)[0] for p in [
        (1.048250377, 3.281121862, 0.02),
    ]]
    chamfer(chamfer5_edges, length=CHAMFER5_SIZE)

    # Chamfer6
    chamfer6_edges = [part.edges().sort_by_distance(p)[0] for p in [
        (1.048250377, 3.931121862, 0.02),
    ]]
    chamfer(chamfer6_edges, length=CHAMFER6_SIZE)

    # Chamfer7
    chamfer7_edges = [part.edges().sort_by_distance(p)[0] for p in [
        (1.148250377, 3.381121862, 0.02),
    ]]
    chamfer(chamfer7_edges, length=CHAMFER7_SIZE)

    # Chamfer8
    chamfer8_edges = [part.edges().sort_by_distance(p)[0] for p in [
        (0.817468966, 3.381121862, 0.02),
    ]]
    chamfer(chamfer8_edges, length=CHAMFER8_SIZE)


solid = part.part
